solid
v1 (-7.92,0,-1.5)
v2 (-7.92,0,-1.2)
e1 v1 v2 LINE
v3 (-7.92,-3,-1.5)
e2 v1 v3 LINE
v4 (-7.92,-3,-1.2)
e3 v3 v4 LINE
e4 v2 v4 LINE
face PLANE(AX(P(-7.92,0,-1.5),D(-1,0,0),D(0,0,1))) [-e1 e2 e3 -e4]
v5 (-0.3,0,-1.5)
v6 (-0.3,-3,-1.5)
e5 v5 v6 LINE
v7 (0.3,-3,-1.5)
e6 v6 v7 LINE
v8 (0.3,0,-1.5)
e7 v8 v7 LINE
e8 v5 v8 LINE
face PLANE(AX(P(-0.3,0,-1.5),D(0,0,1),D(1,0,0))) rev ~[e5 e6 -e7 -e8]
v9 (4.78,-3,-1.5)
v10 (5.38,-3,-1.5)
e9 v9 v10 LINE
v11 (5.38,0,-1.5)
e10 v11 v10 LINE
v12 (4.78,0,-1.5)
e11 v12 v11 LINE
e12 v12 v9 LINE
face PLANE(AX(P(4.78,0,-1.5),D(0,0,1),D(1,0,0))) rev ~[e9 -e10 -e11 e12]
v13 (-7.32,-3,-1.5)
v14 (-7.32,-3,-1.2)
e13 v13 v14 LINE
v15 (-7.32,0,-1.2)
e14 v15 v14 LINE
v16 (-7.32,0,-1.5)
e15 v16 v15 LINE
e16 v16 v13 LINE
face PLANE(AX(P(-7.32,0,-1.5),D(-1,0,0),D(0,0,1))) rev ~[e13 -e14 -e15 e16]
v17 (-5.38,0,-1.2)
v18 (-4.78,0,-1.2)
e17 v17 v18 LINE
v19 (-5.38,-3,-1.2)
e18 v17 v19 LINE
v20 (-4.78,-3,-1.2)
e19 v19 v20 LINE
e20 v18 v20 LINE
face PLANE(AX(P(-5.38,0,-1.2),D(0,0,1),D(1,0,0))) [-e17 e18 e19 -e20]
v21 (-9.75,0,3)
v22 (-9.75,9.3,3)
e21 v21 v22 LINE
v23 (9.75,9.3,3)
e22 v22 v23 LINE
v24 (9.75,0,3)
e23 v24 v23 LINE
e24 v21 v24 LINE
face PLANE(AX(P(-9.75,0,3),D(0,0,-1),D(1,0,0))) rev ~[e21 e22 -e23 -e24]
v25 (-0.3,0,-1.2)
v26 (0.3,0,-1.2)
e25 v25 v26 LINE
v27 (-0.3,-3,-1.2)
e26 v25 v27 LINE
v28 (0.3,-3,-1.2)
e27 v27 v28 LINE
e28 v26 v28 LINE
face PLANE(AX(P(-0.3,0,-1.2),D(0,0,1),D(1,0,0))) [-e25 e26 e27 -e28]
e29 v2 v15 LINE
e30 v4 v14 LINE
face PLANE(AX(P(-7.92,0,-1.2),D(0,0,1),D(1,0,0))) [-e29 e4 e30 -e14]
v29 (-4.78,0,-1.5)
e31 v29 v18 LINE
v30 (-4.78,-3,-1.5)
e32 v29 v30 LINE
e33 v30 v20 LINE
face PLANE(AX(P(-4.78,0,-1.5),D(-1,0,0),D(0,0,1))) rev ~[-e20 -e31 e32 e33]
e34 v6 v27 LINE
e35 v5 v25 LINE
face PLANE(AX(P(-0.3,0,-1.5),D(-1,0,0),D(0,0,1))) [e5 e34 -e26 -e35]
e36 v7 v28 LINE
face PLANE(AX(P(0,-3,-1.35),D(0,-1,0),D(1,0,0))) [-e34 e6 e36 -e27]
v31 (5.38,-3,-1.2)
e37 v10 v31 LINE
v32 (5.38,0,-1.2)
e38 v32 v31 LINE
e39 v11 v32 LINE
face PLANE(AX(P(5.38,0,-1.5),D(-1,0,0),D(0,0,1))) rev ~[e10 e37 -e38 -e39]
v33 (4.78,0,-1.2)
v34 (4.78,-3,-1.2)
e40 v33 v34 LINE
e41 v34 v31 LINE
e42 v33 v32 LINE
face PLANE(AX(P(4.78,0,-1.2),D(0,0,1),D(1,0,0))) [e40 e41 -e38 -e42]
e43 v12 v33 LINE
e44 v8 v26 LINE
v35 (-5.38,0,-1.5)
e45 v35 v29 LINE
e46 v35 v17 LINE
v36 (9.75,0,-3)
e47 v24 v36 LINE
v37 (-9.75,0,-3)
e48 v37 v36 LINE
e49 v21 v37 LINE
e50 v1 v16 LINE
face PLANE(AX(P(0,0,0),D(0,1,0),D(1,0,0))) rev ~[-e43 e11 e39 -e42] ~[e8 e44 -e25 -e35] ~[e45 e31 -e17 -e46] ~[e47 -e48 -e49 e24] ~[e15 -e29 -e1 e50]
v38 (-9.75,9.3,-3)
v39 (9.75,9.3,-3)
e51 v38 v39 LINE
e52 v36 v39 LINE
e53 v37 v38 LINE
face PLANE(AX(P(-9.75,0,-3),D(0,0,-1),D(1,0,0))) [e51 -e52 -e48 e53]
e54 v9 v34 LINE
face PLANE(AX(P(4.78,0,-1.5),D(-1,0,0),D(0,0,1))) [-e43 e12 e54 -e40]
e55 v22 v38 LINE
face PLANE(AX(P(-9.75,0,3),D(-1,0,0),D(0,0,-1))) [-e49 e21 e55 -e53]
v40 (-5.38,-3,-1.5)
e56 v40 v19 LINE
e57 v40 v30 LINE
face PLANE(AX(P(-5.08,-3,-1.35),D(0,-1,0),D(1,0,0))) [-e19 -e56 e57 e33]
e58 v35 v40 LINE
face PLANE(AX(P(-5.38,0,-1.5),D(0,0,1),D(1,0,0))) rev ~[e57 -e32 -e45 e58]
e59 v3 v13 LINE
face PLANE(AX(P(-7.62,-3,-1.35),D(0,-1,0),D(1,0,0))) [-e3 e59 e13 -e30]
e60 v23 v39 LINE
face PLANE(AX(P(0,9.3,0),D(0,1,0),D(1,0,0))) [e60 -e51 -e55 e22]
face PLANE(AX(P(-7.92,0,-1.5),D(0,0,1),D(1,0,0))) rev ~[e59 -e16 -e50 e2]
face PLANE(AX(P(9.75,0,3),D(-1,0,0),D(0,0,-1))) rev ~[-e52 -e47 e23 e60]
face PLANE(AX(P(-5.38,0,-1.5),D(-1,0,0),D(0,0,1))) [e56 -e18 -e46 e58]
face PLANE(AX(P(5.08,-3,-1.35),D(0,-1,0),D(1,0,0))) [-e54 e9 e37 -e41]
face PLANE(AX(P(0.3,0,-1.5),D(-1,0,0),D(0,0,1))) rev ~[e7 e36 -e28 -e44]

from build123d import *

# Parameters (mm, degrees)
SKETCH_1_W      = 19.5
SKETCH_1_H      = 6
EXTRUDE_1_DEPTH = 9.3
SKETCH_2_W      = 0.6
SKETCH_2_H      = 0.3
EXTRUDE_2_DEPTH = 3
EXTRUDE_3_DEPTH = 0.2


with BuildPart() as part:
    # Эскиз1 → Бобышка-Вытянуть1 (new body)
    with BuildSketch(Plane(origin=(0, 0, 0), x_dir=(1, 0, 0), z_dir=(0, 1, 0))):
        Rectangle(SKETCH_1_W, SKETCH_1_H)
    extrude(amount=EXTRUDE_1_DEPTH)

    # Эскиз2 → Бобышка-Вытянуть2 (add)
    with BuildSketch(Plane.XZ):
        with Locations((-7.62, -1.35)):
            Rectangle(SKETCH_2_W, SKETCH_2_H)
        with Locations((-5.08, -1.35)):
            Rectangle(SKETCH_2_W, SKETCH_2_H)
        with Locations((0, -1.35)):
            Rectangle(SKETCH_2_W, SKETCH_2_H)
        with Locations((5.08, -1.35)):
            Rectangle(SKETCH_2_W, SKETCH_2_H)
    extrude(amount=EXTRUDE_2_DEPTH)

    # Эскиз3 → Бобышка-Вытянуть3 (add)
    with BuildSketch(Plane(origin=(0, 9.3, 0), x_dir=(1, 0, 0), z_dir=(0, 1, 0))):
        with BuildLine():
            Line((-5.993653669, -1.1506083), (-5.993653669, 1.495225034))
            Line((-5.993653669, 1.495225034), (-5.726526265, 1.495225034))
            add(Edge.make_bspline(
                [(-5.726526265, 1.495225034), (-5.703199399, 1.494894605), (-5.65827213, 1.494258204), (-5.593328368, 1.490121291), (-5.533294043, 1.482863062), (-5.478257825, 1.472268509), (-5.427978548, 1.459234752), (-5.382722262, 1.442777118), (-5.342163377, 1.423550544), (-5.318249105, 1.407525081), (-5.30675463, 1.39982239)],
                knots=[0, 0, 0, 0, 6.998e-05, 0.000134781, 0.00019513, 0.000251262, 0.000302815, 0.000350769, 0.00039557, 0.000437033, 0.000437033, 0.000437033, 0.000437033], degree=3))
            add(Edge.make_bspline(
                [(-5.30675463, 1.39982239), (-5.291259723, 1.387980041), (-5.259666671, 1.363834307), (-5.216878942, 1.320049614), (-5.176018095, 1.270953839), (-5.138198125, 1.215037198), (-5.103093917, 1.153229673), (-5.069860634, 1.085379539), (-5.040008142, 1.011214307), (-5.012613306, 0.931196499), (-4.987736933, 0.846373762), (-4.966676113, 0.756972928), (-4.948733764, 0.663775398), (-4.933891633, 0.566532567), (-4.922334069, 0.465223791), (-4.913792213, 0.359881256), (-4.909099881, 0.250617555), (-4.908492313, 0.176552723), (-4.908183583, 0.138917442)],
                knots=[0, 0, 0, 0, 5.8439e-05, 0.000119153, 0.000183146, 0.000249888, 0.000321348, 0.000396253, 0.000476369, 0.000561014, 0.000649908, 0.00074144, 0.000836447, 0.000934568, 0.00103647, 0.001142284, 0.001251571, 0.001364475, 0.001364475, 0.001364475, 0.001364475], degree=3))
            add(Edge.make_bspline(
                [(-4.908183583, 0.138917442), (-4.908280711, 0.106227192), (-4.908471905, 0.041877192), (-4.913150802, -0.053011126), (-4.919308515, -0.144931602), (-4.928055359, -0.233911091), (-4.940620124, -0.319900369), (-4.954621979, -0.403063397), (-4.971578805, -0.483169429), (-4.991199381, -0.559859585), (-5.012673437, -0.632560972), (-5.036144523, -0.700772196), (-5.060756945, -0.763964681), (-5.08687661, -0.822459494), (-5.11469083, -0.875845291), (-5.14459931, -0.924137506), (-5.175194817, -0.968146848), (-5.208238178, -1.00695942), (-5.243405122, -1.041684613), (-5.282312993, -1.070675465), (-5.324207669, -1.095483025), (-5.369598006, -1.115586755), (-5.418401512, -1.131573487), (-5.470683253, -1.142394162), (-5.525977989, -1.149628644), (-5.56396405, -1.150276458), (-5.583422299, -1.1506083)],
                knots=[0, 0, 0, 0, 9.8058e-05, 0.000193026, 0.000284939, 0.000374436, 0.000461159, 0.000545593, 0.000627403, 0.000706717, 0.000783019, 0.000854758, 0.000923064, 0.000986404, 0.001046858, 0.001103491, 0.001156725, 0.001207487, 0.001256214, 0.001304658, 0.001352653, 0.001402001, 0.001453289, 0.00150641, 0.00156196, 0.0016203, 0.0016203, 0.0016203, 0.0016203], degree=3))
            Line((-5.583422299, -1.1506083), (-5.993653669, -1.1506083))
        make_face()
        with BuildLine():
            Line((-5.857969908, -0.879240778), (-5.712215868, -0.879240778))
            add(Edge.make_bspline(
                [(-5.712215868, -0.879240778), (-5.691187559, -0.879056917), (-5.650871591, -0.878704415), (-5.592868926, -0.875504605), (-5.539970165, -0.870356677), (-5.491975474, -0.863079212), (-5.449019914, -0.853425769), (-5.410665043, -0.842750873), (-5.377422356, -0.829210676), (-5.358215906, -0.817468128), (-5.349155806, -0.811928913)],
                knots=[0, 0, 0, 0, 6.3081e-05, 0.00012094, 0.000174206, 0.000222481, 0.000266459, 0.00030621, 0.000341843, 0.000373662, 0.000373662, 0.000373662, 0.000373662], degree=3))
            add(Edge.make_bspline(
                [(-5.349155806, -0.811928913), (-5.337504042, -0.803307558), (-5.313789347, -0.785760618), (-5.280583663, -0.754767955), (-5.250258232, -0.718316423), (-5.220506136, -0.67810954), (-5.194552767, -0.631854361), (-5.168983681, -0.581836894), (-5.145554456, -0.526783834), (-5.124665533, -0.467032902), (-5.105604787, -0.403212154), (-5.089398291, -0.335730556), (-5.074936985, -0.265071796), (-5.063189934, -0.190820741), (-5.055092671, -0.112940991), (-5.048787041, -0.03182255), (-5.044151944, 0.052648833), (-5.043963526, 0.110113423), (-5.043867344, 0.139447456)],
                knots=[0, 0, 0, 0, 4.3464e-05, 8.8463e-05, 0.000135833, 0.000185556, 0.000238281, 0.000294694, 0.000354058, 0.000417592, 0.000484502, 0.00055379, 0.00062572, 0.000700832, 0.000779205, 0.000860546, 0.000944925, 0.001032914, 0.001032914, 0.001032914, 0.001032914], degree=3))
            add(Edge.make_bspline(
                [(-5.043867344, 0.139447456), (-5.044257686, 0.170367783), (-5.045023027, 0.230993015), (-5.04851762, 0.320105791), (-5.055303295, 0.405703496), (-5.065721936, 0.487818585), (-5.0773982, 0.566813362), (-5.093024206, 0.642256147), (-5.110894459, 0.714268364), (-5.131375406, 0.782633857), (-5.154756204, 0.846351158), (-5.179273421, 0.905648959), (-5.207154577, 0.959280213), (-5.236388534, 1.0081843), (-5.26864597, 1.051395115), (-5.302252635, 1.09000415), (-5.339137971, 1.122477508), (-5.365409332, 1.140706418), (-5.378306614, 1.149655456)],
                knots=[0, 0, 0, 0, 9.2766e-05, 0.000181886, 0.000267496, 0.000350263, 0.000430171, 0.000506986, 0.000581287, 0.000652715, 0.000720955, 0.000784843, 0.000845053, 0.000902138, 0.000955564, 0.001006622, 0.001055435, 0.001102508, 0.001102508, 0.001102508, 0.001102508], degree=3))
            add(Edge.make_bspline(
                [(-5.378306614, 1.149655456), (-5.388955984, 1.155743208), (-5.411039459, 1.168367307), (-5.448391882, 1.183007997), (-5.490098558, 1.195464632), (-5.536608314, 1.206268717), (-5.588034553, 1.213841748), (-5.644095768, 1.219565094), (-5.704918011, 1.223470072), (-5.747013657, 1.223724871), (-5.76892744, 1.223857512)],
                knots=[0, 0, 0, 0, 3.6759e-05, 7.6226e-05, 0.000119987, 0.000167301, 0.000219323, 0.000275807, 0.000336342, 0.000402072, 0.000402072, 0.000402072, 0.000402072], degree=3))
            Line((-5.76892744, 1.223857512), (-5.857969908, 1.223857512))
            Line((-5.857969908, 1.223857512), (-5.857969908, -0.879240778))
        make_face(mode=Mode.SUBTRACT)
        with BuildLine():
            Line((-3.415662216, 1.009731578), (-3.519545095, 0.850727171))
            add(Edge.make_bspline(
                [(-3.519545095, 0.850727171), (-3.534179354, 0.884905992), (-3.562170932, 0.950281296), (-3.611133312, 1.040000729), (-3.665533305, 1.116106536), (-3.72384652, 1.179351808), (-3.785927203, 1.2295169), (-3.851769423, 1.265264449), (-3.920886372, 1.287938638), (-3.968476618, 1.290444177), (-3.992318199, 1.291699393)],
                knots=[0, 0, 0, 0, 0.000111505, 0.00021328, 0.000305946, 0.000391448, 0.000470663, 0.000544181, 0.000615258, 0.000686614, 0.000686614, 0.000686614, 0.000686614], degree=3))
            add(Edge.make_bspline(
                [(-3.992318199, 1.291699393), (-4.005431836, 1.291384283), (-4.03169845, 1.290753119), (-4.070396571, 1.282732829), (-4.108512905, 1.271147784), (-4.145817601, 1.254474313), (-4.182279862, 1.233158987), (-4.218304257, 1.207461497), (-4.252957775, 1.176608367), (-4.299075833, 1.128977162), (-4.352642098, 1.059690199), (-4.408114943, 0.964195578), (-4.457114694, 0.856544197), (-4.497127403, 0.73650285), (-4.529213424, 0.606387938), (-4.552370998, 0.467849217), (-4.566279092, 0.321350851), (-4.568060213, 0.221100812), (-4.568974182, 0.169658294)],
                knots=[0, 0, 0, 0, 3.9278e-05, 7.8675e-05, 0.000118071, 0.000158647, 0.000200919, 0.000244603, 0.000291171, 0.000339898, 0.000443375, 0.000552908, 0.000670553, 0.000797599, 0.000931932, 0.001072217, 0.001218621, 0.001372929, 0.001372929, 0.001372929, 0.001372929], degree=3))
            add(Edge.make_bspline(
                [(-4.568974182, 0.169658294), (-4.568505048, 0.130597956), (-4.567586992, 0.054160166), (-4.559240598, -0.057952809), (-4.546936059, -0.165048085), (-4.528789063, -0.267326934), (-4.505707102, -0.364750482), (-4.477047103, -0.45737923), (-4.443102256, -0.544809514), (-4.404897438, -0.626691155), (-4.362284373, -0.700931952), (-4.317155352, -0.766581502), (-4.268464955, -0.821815298), (-4.217519197, -0.867484278), (-4.163381985, -0.903364651), (-4.106076555, -0.928124148), (-4.046251249, -0.944766536), (-4.0051504, -0.946304829), (-3.984367978, -0.947082659)],
                knots=[0, 0, 0, 0, 0.000117163, 0.000229279, 0.000337095, 0.000440441, 0.000540713, 0.000637275, 0.000731075, 0.000821883, 0.000908068, 0.000987615, 0.00106046, 0.00112842, 0.001192368, 0.001254309, 0.001315115, 0.00137731, 0.00137731, 0.00137731, 0.00137731], degree=3))
            add(Edge.make_bspline(
                [(-3.984367978, -0.947082659), (-3.961591638, -0.945772388), (-3.91597232, -0.943148013), (-3.849479838, -0.921072886), (-3.786097826, -0.886024876), (-3.72623861, -0.836482885), (-3.669438198, -0.773568722), (-3.615488809, -0.697122197), (-3.564594685, -0.606919476), (-3.53506219, -0.540833581), (-3.519545095, -0.506110436)],
                knots=[0, 0, 0, 0, 6.8191e-05, 0.000136581, 0.000207984, 0.00028447, 0.000368503, 0.0004616, 0.000564616, 0.000678669, 0.000678669, 0.000678669, 0.000678669], degree=3))
            Line((-3.519545095, -0.506110436), (-3.415662216, -0.663524799))
            add(Edge.make_bspline(
                [(-3.415662216, -0.663524799), (-3.423957596, -0.684978718), (-3.440269776, -0.727166079), (-3.467335967, -0.787728881), (-3.495194986, -0.84501035), (-3.525867748, -0.89780762), (-3.556548419, -0.947988701), (-3.590310996, -0.993379854), (-3.624691432, -1.035567179), (-3.660650472, -1.073847065), (-3.698141543, -1.107588466), (-3.736619231, -1.137280461), (-3.77637805, -1.161955477), (-3.816885086, -1.183164813), (-3.85890478, -1.199070077), (-3.902132842, -1.210062204), (-3.946310126, -1.217400972), (-3.976211705, -1.218098955), (-3.991258169, -1.21845018)],
                knots=[0, 0, 0, 0, 6.8994e-05, 0.00013567, 0.000198958, 0.000259965, 0.000318787, 0.00037529, 0.000429512, 0.000482002, 0.000532665, 0.000580686, 0.000627598, 0.000672873, 0.000717662, 0.000762012, 0.00080654, 0.000851641, 0.000851641, 0.000851641, 0.000851641], degree=3))
            add(Edge.make_bspline(
                [(-3.991258169, -1.21845018), (-4.019498028, -1.217044905), (-4.0752501, -1.214270565), (-4.156243448, -1.191380627), (-4.232478086, -1.154894405), (-4.303933806, -1.103497233), (-4.369809131, -1.03705277), (-4.431329731, -0.956814193), (-4.488334905, -0.862118671), (-4.520381829, -0.792319622), (-4.5371733, -0.755747355)],
                knots=[0, 0, 0, 0, 8.4598e-05, 0.000167017, 0.000250464, 0.000337091, 0.000429662, 0.000530164, 0.000639786, 0.000760445, 0.000760445, 0.000760445, 0.000760445], degree=3))
            add(Edge.make_bspline(
                [(-4.5371733, -0.755747355), (-4.550705935, -0.722524172), (-4.578175766, -0.655084593), (-4.611354565, -0.549272101), (-4.641067127, -0.438918067), (-4.663731428, -0.323171427), (-4.682780542, -0.202666631), (-4.694840811, -0.076988272), (-4.7032721, 0.053646598), (-4.704190154, 0.142436449), (-4.704657942, 0.187678793)],
                knots=[0, 0, 0, 0, 0.000107577, 0.000218371, 0.000332403, 0.000450276, 0.000572011, 0.000698267, 0.000828893, 0.000964602, 0.000964602, 0.000964602, 0.000964602], degree=3))
            add(Edge.make_bspline(
                [(-4.704657942, 0.187678793), (-4.704071921, 0.235219874), (-4.702922615, 0.328457448), (-4.693182896, 0.465378871), (-4.677450347, 0.596485968), (-4.655352591, 0.721825733), (-4.626464582, 0.841351733), (-4.592607123, 0.955511927), (-4.550817993, 1.063548764), (-4.503763829, 1.164964211), (-4.452114913, 1.257588782), (-4.39660512, 1.338869898), (-4.33732567, 1.407454084), (-4.27538001, 1.464439326), (-4.209548403, 1.508797556), (-4.140164332, 1.539888447), (-4.067577761, 1.559396918), (-4.017878723, 1.561837656), (-3.992848213, 1.563066914)],
                knots=[0, 0, 0, 0, 0.000142609, 0.000279686, 0.000411561, 0.00053861, 0.00066125, 0.000780297, 0.000895559, 0.001008427, 0.001115455, 0.00121337, 0.001303168, 0.001386845, 0.001465196, 0.00154016, 0.001614078, 0.00168908, 0.00168908, 0.00168908, 0.00168908], degree=3))
            add(Edge.make_bspline(
                [(-3.992848213, 1.563066914), (-3.977627939, 1.562703678), (-3.947380615, 1.561981816), (-3.902594067, 1.554813267), (-3.859097397, 1.543179618), (-3.816832763, 1.526858437), (-3.775181493, 1.507110913), (-3.73550092, 1.4809088), (-3.696205136, 1.451551931), (-3.658548924, 1.417201519), (-3.62206409, 1.379288724), (-3.587540342, 1.337134575), (-3.554988139, 1.291302038), (-3.522540397, 1.242799461), (-3.494096057, 1.189331801), (-3.46554633, 1.133068857), (-3.43918824, 1.072902791), (-3.423587095, 1.031011171), (-3.415662216, 1.009731578)],
                knots=[0, 0, 0, 0, 4.5631e-05, 9.0682e-05, 0.00013568, 0.000180469, 0.000226455, 0.00027365, 0.000322836, 0.000373499, 0.000426354, 0.000480576, 0.000536768, 0.000594983, 0.000655472, 0.000718285, 0.000784263, 0.000852377, 0.000852377, 0.000852377, 0.000852377], degree=3))
        make_face()
        with BuildLine():
            Line((-1.448247686, 1.009731578), (-1.552130565, 0.850727171))
            add(Edge.make_bspline(
                [(-1.552130565, 0.850727171), (-1.566764824, 0.884905992), (-1.594756402, 0.950281296), (-1.643718782, 1.040000729), (-1.698118775, 1.116106536), (-1.75643199, 1.179351808), (-1.818512673, 1.2295169), (-1.884354893, 1.265264449), (-1.953471842, 1.287938638), (-2.001062088, 1.290444177), (-2.024903669, 1.291699393)],
                knots=[0, 0, 0, 0, 0.000111505, 0.00021328, 0.000305946, 0.000391448, 0.000470663, 0.000544181, 0.000615258, 0.000686614, 0.000686614, 0.000686614, 0.000686614], degree=3))
            add(Edge.make_bspline(
                [(-2.024903669, 1.291699393), (-2.038017306, 1.291384283), (-2.06428392, 1.290753119), (-2.102982041, 1.282732829), (-2.141098375, 1.271147784), (-2.178403071, 1.254474313), (-2.214865332, 1.233158987), (-2.250889728, 1.207461497), (-2.285543246, 1.176608367), (-2.331661303, 1.128977162), (-2.385227568, 1.059690199), (-2.440700413, 0.964195578), (-2.489700164, 0.856544197), (-2.529712873, 0.73650285), (-2.561798894, 0.606387938), (-2.584956468, 0.467849217), (-2.598864562, 0.321350851), (-2.600645683, 0.221100812), (-2.601559652, 0.169658294)],
                knots=[0, 0, 0, 0, 3.9278e-05, 7.8675e-05, 0.000118071, 0.000158647, 0.000200919, 0.000244603, 0.000291171, 0.000339898, 0.000443375, 0.000552908, 0.000670553, 0.000797599, 0.000931932, 0.001072217, 0.001218621, 0.001372929, 0.001372929, 0.001372929, 0.001372929], degree=3))
            add(Edge.make_bspline(
                [(-2.601559652, 0.169658294), (-2.601090518, 0.130597956), (-2.600172462, 0.054160166), (-2.591826069, -0.057952809), (-2.579521529, -0.165048085), (-2.561374533, -0.267326934), (-2.538292572, -0.364750482), (-2.509632573, -0.45737923), (-2.475687726, -0.544809514), (-2.437482908, -0.626691155), (-2.394869843, -0.700931952), (-2.349740822, -0.766581502), (-2.301050425, -0.821815298), (-2.250104667, -0.867484278), (-2.195967455, -0.903364651), (-2.138662025, -0.928124148), (-2.078836719, -0.944766536), (-2.03773587, -0.946304829), (-2.016953448, -0.947082659)],
                knots=[0, 0, 0, 0, 0.000117163, 0.000229279, 0.000337095, 0.000440441, 0.000540713, 0.000637275, 0.000731075, 0.000821883, 0.000908068, 0.000987615, 0.00106046, 0.00112842, 0.001192368, 0.001254309, 0.001315115, 0.00137731, 0.00137731, 0.00137731, 0.00137731], degree=3))
            add(Edge.make_bspline(
                [(-2.016953448, -0.947082659), (-1.994177108, -0.945772388), (-1.94855779, -0.943148013), (-1.882065308, -0.921072886), (-1.818683296, -0.886024876), (-1.75882408, -0.836482885), (-1.702023668, -0.773568722), (-1.648074279, -0.697122197), (-1.597180155, -0.606919476), (-1.56764766, -0.540833581), (-1.552130565, -0.506110436)],
                knots=[0, 0, 0, 0, 6.8191e-05, 0.000136581, 0.000207984, 0.00028447, 0.000368503, 0.0004616, 0.000564616, 0.000678669, 0.000678669, 0.000678669, 0.000678669], degree=3))
            Line((-1.552130565, -0.506110436), (-1.448247686, -0.663524799))
            add(Edge.make_bspline(
                [(-1.448247686, -0.663524799), (-1.456543066, -0.684978718), (-1.472855246, -0.727166079), (-1.499921437, -0.787728881), (-1.527780456, -0.84501035), (-1.558453218, -0.89780762), (-1.589133889, -0.947988701), (-1.622896466, -0.993379854), (-1.657276903, -1.035567179), (-1.693235942, -1.073847065), (-1.730727013, -1.107588466), (-1.769204701, -1.137280461), (-1.80896352, -1.161955477), (-1.849470556, -1.183164813), (-1.89149025, -1.199070077), (-1.934718312, -1.210062204), (-1.978895596, -1.217400972), (-2.008797175, -1.218098955), (-2.023843639, -1.21845018)],
                knots=[0, 0, 0, 0, 6.8994e-05, 0.00013567, 0.000198958, 0.000259965, 0.000318787, 0.00037529, 0.000429512, 0.000482002, 0.000532665, 0.000580686, 0.000627598, 0.000672873, 0.000717662, 0.000762012, 0.00080654, 0.000851641, 0.000851641, 0.000851641, 0.000851641], degree=3))
            add(Edge.make_bspline(
                [(-2.023843639, -1.21845018), (-2.052083499, -1.217044905), (-2.10783557, -1.214270565), (-2.188828918, -1.191380627), (-2.265063556, -1.154894405), (-2.336519276, -1.103497233), (-2.402394601, -1.03705277), (-2.463915201, -0.956814193), (-2.520920375, -0.862118671), (-2.552967299, -0.792319622), (-2.56975877, -0.755747355)],
                knots=[0, 0, 0, 0, 8.4598e-05, 0.000167017, 0.000250464, 0.000337091, 0.000429662, 0.000530164, 0.000639786, 0.000760445, 0.000760445, 0.000760445, 0.000760445], degree=3))
            add(Edge.make_bspline(
                [(-2.56975877, -0.755747355), (-2.583291406, -0.722524172), (-2.610761236, -0.655084593), (-2.643940035, -0.549272101), (-2.673652597, -0.438918067), (-2.696316898, -0.323171427), (-2.715366012, -0.202666631), (-2.727426281, -0.076988272), (-2.73585757, 0.053646598), (-2.736775624, 0.142436449), (-2.737243412, 0.187678793)],
                knots=[0, 0, 0, 0, 0.000107577, 0.000218371, 0.000332403, 0.000450276, 0.000572011, 0.000698267, 0.000828893, 0.000964602, 0.000964602, 0.000964602, 0.000964602], degree=3))
            add(Edge.make_bspline(
                [(-2.737243412, 0.187678793), (-2.736657391, 0.235219874), (-2.735508085, 0.328457448), (-2.725768366, 0.465378871), (-2.710035817, 0.596485968), (-2.687938062, 0.721825733), (-2.659050052, 0.841351733), (-2.625192593, 0.955511927), (-2.583403463, 1.063548764), (-2.536349299, 1.164964211), (-2.484700383, 1.257588782), (-2.42919059, 1.338869898), (-2.36991114, 1.407454084), (-2.307965481, 1.464439326), (-2.242133873, 1.508797556), (-2.172749802, 1.539888447), (-2.100163231, 1.559396918), (-2.050464193, 1.561837656), (-2.025433684, 1.563066914)],
                knots=[0, 0, 0, 0, 0.000142609, 0.000279686, 0.000411561, 0.00053861, 0.00066125, 0.000780297, 0.000895559, 0.001008427, 0.001115455, 0.00121337, 0.001303168, 0.001386845, 0.001465196, 0.00154016, 0.001614078, 0.00168908, 0.00168908, 0.00168908, 0.00168908], degree=3))
            add(Edge.make_bspline(
                [(-2.025433684, 1.563066914), (-2.010213409, 1.562703678), (-1.979966085, 1.561981816), (-1.935179537, 1.554813267), (-1.891682868, 1.543179618), (-1.849418233, 1.526858437), (-1.807766963, 1.507110913), (-1.76808639, 1.4809088), (-1.728790606, 1.451551931), (-1.691134394, 1.417201519), (-1.65464956, 1.379288724), (-1.620125812, 1.337134575), (-1.587573609, 1.291302038), (-1.555125867, 1.242799461), (-1.526681527, 1.189331801), (-1.4981318, 1.133068857), (-1.47177371, 1.072902791), (-1.456172565, 1.031011171), (-1.448247686, 1.009731578)],
                knots=[0, 0, 0, 0, 4.5631e-05, 9.0682e-05, 0.00013568, 0.000180469, 0.000226455, 0.00027365, 0.000322836, 0.000373499, 0.000426354, 0.000480576, 0.000536768, 0.000594983, 0.000655472, 0.000718285, 0.000784263, 0.000852377, 0.000852377, 0.000852377, 0.000852377], degree=3))
        make_face()
        with BuildLine():
            add(Edge.make_bspline(
                [(-0.786259338, 0.81680623), (-0.768295824, 0.81600169), (-0.732566431, 0.81440146), (-0.680834558, 0.797931704), (-0.631820933, 0.772336496), (-0.584557205, 0.737517515), (-0.540776603, 0.69167794), (-0.499317995, 0.636359406), (-0.460000564, 0.571323038), (-0.437251962, 0.523403355), (-0.425319334, 0.498267402)],
                knots=[0, 0, 0, 0, 5.3744e-05, 0.000106896, 0.00016118, 0.000219166, 0.000282133, 0.000350611, 0.000426238, 0.000509673, 0.000509673, 0.000509673, 0.000509673], degree=3))
            add(Edge.make_bspline(
                [(-0.425319334, 0.498267402), (-0.414728297, 0.473668234), (-0.393285396, 0.423864093), (-0.367227345, 0.345950642), (-0.344949151, 0.264885756), (-0.326032015, 0.180605301), (-0.313037159, 0.092656107), (-0.301778331, 0.001715256), (-0.296325548, -0.092631811), (-0.295403832, -0.15664916), (-0.29493572, -0.189161652)],
                knots=[0, 0, 0, 0, 8.0318e-05, 0.000162614, 0.000246195, 0.000332485, 0.00042154, 0.00051279, 0.000607313, 0.000704858, 0.000704858, 0.000704858, 0.000704858], degree=3))
            add(Edge.make_bspline(
                [(-0.29493572, -0.189161652), (-0.295349578, -0.221853946), (-0.296164678, -0.286241839), (-0.302406615, -0.381280091), (-0.313947295, -0.473153634), (-0.328136117, -0.562148356), (-0.348363023, -0.647748537), (-0.37105115, -0.730502442), (-0.399616521, -0.809793204), (-0.431334519, -0.885135131), (-0.466002773, -0.954682557), (-0.504376532, -1.015419427), (-0.54439823, -1.067563046), (-0.587749138, -1.110045823), (-0.633497994, -1.143475031), (-0.68201447, -1.167387439), (-0.73332845, -1.181735338), (-0.768503084, -1.183591994), (-0.786259338, -1.18452924)],
                knots=[0, 0, 0, 0, 9.8076e-05, 0.000193161, 0.000285527, 0.000375798, 0.000463354, 0.000549262, 0.000633082, 0.000715969, 0.000794428, 0.000865891, 0.000931204, 0.000991173, 0.001047364, 0.001100461, 0.001152664, 0.00120588, 0.00120588, 0.00120588, 0.00120588], degree=3))
            add(Edge.make_bspline(
                [(-0.786259338, -1.18452924), (-0.804011064, -1.183573351), (-0.839347322, -1.181670576), (-0.890886446, -1.167497137), (-0.939563391, -1.143481638), (-0.985339642, -1.109901724), (-1.029169741, -1.067601137), (-1.069769751, -1.015582232), (-1.108089348, -0.954665248), (-1.142724365, -0.885122221), (-1.174700554, -0.80992249), (-1.202146645, -0.73027545), (-1.226196077, -0.647953081), (-1.244970492, -0.561981879), (-1.260604899, -0.473275738), (-1.270903559, -0.381222106), (-1.277484843, -0.286251606), (-1.278252974, -0.221857236), (-1.278642985, -0.189161652)],
                knots=[0, 0, 0, 0, 5.3216e-05, 0.00010593, 0.000159027, 0.000215219, 0.000275568, 0.000341209, 0.000412672, 0.000491131, 0.000574018, 0.000657661, 0.000743715, 0.000831155, 0.000921514, 0.001013817, 0.001108903, 0.001206978, 0.001206978, 0.001206978, 0.001206978], degree=3))
            add(Edge.make_bspline(
                [(-1.278642985, -0.189161652), (-1.278178442, -0.156824813), (-1.277261294, -0.092982179), (-1.271726731, 0.001172955), (-1.260822889, 0.092024459), (-1.246682351, 0.179421159), (-1.228663621, 0.263684197), (-1.206507249, 0.344591254), (-1.180178476, 0.422410198), (-1.158834277, 0.472072399), (-1.148259371, 0.496677358)],
                knots=[0, 0, 0, 0, 9.7016e-05, 0.000191538, 0.000282789, 0.000371404, 0.000457064, 0.000541156, 0.00062295, 0.000703268, 0.000703268, 0.000703268, 0.000703268], degree=3))
            add(Edge.make_bspline(
                [(-1.148259371, 0.496677358), (-1.136349283, 0.522002036), (-1.113704774, 0.570151549), (-1.074129905, 0.635502295), (-1.032470577, 0.691022688), (-0.988335287, 0.736710879), (-0.941784971, 0.772713123), (-0.892146266, 0.797870409), (-0.840124761, 0.814365676), (-0.804223805, 0.81599229), (-0.786259338, 0.81680623)],
                knots=[0, 0, 0, 0, 8.391e-05, 0.000159537, 0.000228758, 0.000291725, 0.000349604, 0.000404359, 0.000458019, 0.000511763, 0.000511763, 0.000511763, 0.000511763], degree=3))
        make_face()
        with BuildLine():
            add(Edge.make_bspline(
                [(-0.786789353, 0.579359649), (-0.798886218, 0.578626652), (-0.82301766, 0.577164431), (-0.858223157, 0.565790098), (-0.891985195, 0.54813109), (-0.924214219, 0.522841727), (-0.955425443, 0.491122233), (-0.984444916, 0.45166165), (-1.012618435, 0.40574868), (-1.03916386, 0.353446946), (-1.063119203, 0.295895135), (-1.08500333, 0.23517698), (-1.103007324, 0.171409901), (-1.117135786, 0.10458493), (-1.128804156, 0.034930636), (-1.137341087, -0.03775207), (-1.142056769, -0.113305513), (-1.142654463, -0.164597934), (-1.142959224, -0.190751696)],
                knots=[0, 0, 0, 0, 3.6231e-05, 7.2276e-05, 0.000109971, 0.000150042, 0.000194642, 0.000243086, 0.000296628, 0.000356124, 0.000418829, 0.000483539, 0.000549644, 0.000617424, 0.000688351, 0.000761457, 0.00083687, 0.000915328, 0.000915328, 0.000915328, 0.000915328], degree=3))
            add(Edge.make_bspline(
                [(-1.142959224, -0.190751696), (-1.142326427, -0.224516359), (-1.141078433, -0.291106612), (-1.131865071, -0.389182871), (-1.117149789, -0.483748531), (-1.096763284, -0.57357852), (-1.071413696, -0.656915723), (-1.040686032, -0.730903139), (-1.007123923, -0.795724965), (-0.968484024, -0.849369276), (-0.926864889, -0.892616434), (-0.88217378, -0.923391467), (-0.835469388, -0.943959249), (-0.80288704, -0.946049798), (-0.786789353, -0.947082659)],
                knots=[0, 0, 0, 0, 0.000101283, 0.000199749, 0.000295251, 0.000388211, 0.000475888, 0.000556206, 0.000628288, 0.000694338, 0.000753929, 0.000807295, 0.000856506, 0.000904562, 0.000904562, 0.000904562, 0.000904562], degree=3))
            add(Edge.make_bspline(
                [(-0.786789353, -0.947082659), (-0.77069017, -0.946051352), (-0.738104797, -0.943963948), (-0.691424169, -0.923371461), (-0.646733496, -0.892772774), (-0.605620341, -0.849183125), (-0.567073213, -0.795601378), (-0.532659256, -0.731179148), (-0.50286572, -0.656761062), (-0.477438741, -0.573529964), (-0.456264431, -0.483823389), (-0.441761172, -0.389172967), (-0.432487835, -0.291109204), (-0.431248093, -0.224517231), (-0.430619481, -0.190751696)],
                knots=[0, 0, 0, 0, 4.8056e-05, 9.7268e-05, 0.000150634, 0.000209853, 0.000275903, 0.000348236, 0.000428353, 0.00051603, 0.000609109, 0.000704611, 0.000803077, 0.00090436, 0.00090436, 0.00090436, 0.00090436], degree=3))
            add(Edge.make_bspline(
                [(-0.430619481, -0.190751696), (-0.430925486, -0.16459819), (-0.431525619, -0.11330627), (-0.43622373, -0.037749215), (-0.444824287, 0.034920411), (-0.456272696, 0.104658662), (-0.471208982, 0.171356384), (-0.489265037, 0.235049505), (-0.51018443, 0.296139923), (-0.535093194, 0.353316751), (-0.561497144, 0.405725377), (-0.589562433, 0.451883468), (-0.619282428, 0.490756408), (-0.649875101, 0.523027156), (-0.68215154, 0.548104718), (-0.715878749, 0.56579737), (-0.750923549, 0.577105458), (-0.774871983, 0.578610634), (-0.786789353, 0.579359649)],
                knots=[0, 0, 0, 0, 7.8458e-05, 0.000153871, 0.000226977, 0.000297904, 0.000365798, 0.000431903, 0.000496436, 0.00055935, 0.000618846, 0.000672388, 0.000721152, 0.000765382, 0.000805454, 0.000843148, 0.000879193, 0.000914897, 0.000914897, 0.000914897, 0.000914897], degree=3))
        make_face(mode=Mode.SUBTRACT)
        with BuildLine():
            Line((-0.057489139, 0.78288529), (0.078194622, 0.78288529))
            Line((0.078194622, 0.78288529), (0.078194622, 0.434135624))
            add(Edge.make_bspline(
                [(0.078194622, 0.434135624), (0.090473003, 0.465415577), (0.113637798, 0.524429355), (0.152949616, 0.604831872), (0.194834574, 0.671538016), (0.238889072, 0.724881992), (0.285305471, 0.765981762), (0.333906321, 0.795133405), (0.385061357, 0.813338806), (0.420090417, 0.815653081), (0.437544582, 0.81680623)],
                knots=[0, 0, 0, 0, 0.000100786, 0.000190147, 0.000268074, 0.000336546, 0.000397026, 0.00045311, 0.000505739, 0.000558007, 0.000558007, 0.000558007, 0.000558007], degree=3))
            add(Edge.make_bspline(
                [(0.437544582, 0.81680623), (0.455045862, 0.815427277), (0.490332639, 0.812646977), (0.541313346, 0.791060513), (0.58784322, 0.755227665), (0.630597175, 0.706886804), (0.668635136, 0.647182672), (0.702902382, 0.578089279), (0.729745898, 0.498723058), (0.748524014, 0.426327988), (0.761213854, 0.361580804), (0.768691001, 0.305613031), (0.775834597, 0.243267015), (0.780778935, 0.174469796), (0.78505622, 0.099200266), (0.788120457, 0.017386139), (0.790404417, -0.070778848), (0.790490142, -0.13174174), (0.790534365, -0.163190932)],
                knots=[0, 0, 0, 0, 5.2396e-05, 0.000105644, 0.000163203, 0.000227379, 0.000298237, 0.000375036, 0.000458179, 0.000549065, 0.000599271, 0.000656013, 0.000718406, 0.000787511, 0.000862893, 0.000944577, 0.001033115, 0.001127459, 0.001127459, 0.001127459, 0.001127459], degree=3))
            Line((0.790534365, -0.163190932), (0.790534365, -1.1506083))
            Line((0.790534365, -1.1506083), (0.654850605, -1.1506083))
            Line((0.654850605, -1.1506083), (0.654850605, -0.241103091))
            add(Edge.make_bspline(
                [(0.654850605, -0.241103091), (0.654901746, -0.214778869), (0.654999567, -0.164426518), (0.654336012, -0.092345224), (0.653763884, -0.02697789), (0.653483685, 0.031507299), (0.65219473, 0.083088841), (0.651385129, 0.127800377), (0.649722976, 0.165603399), (0.648504281, 0.188562951), (0.647960414, 0.198809102)],
                knots=[0, 0, 0, 0, 7.8972e-05, 0.000151056, 0.00021625, 0.000275084, 0.000326506, 0.00037104, 0.000409234, 0.000440016, 0.000440016, 0.000440016, 0.000440016], degree=3))
            add(Edge.make_bspline(
                [(0.647960414, 0.198809102), (0.64571324, 0.228557571), (0.641486532, 0.28451144), (0.62687992, 0.362254523), (0.606153204, 0.428513347), (0.578600593, 0.482865252), (0.545764184, 0.526038935), (0.507034395, 0.556869493), (0.463086331, 0.576376873), (0.43173428, 0.578355115), (0.415813979, 0.579359649)],
                knots=[0, 0, 0, 0, 8.9445e-05, 0.000168238, 0.00023679, 0.000297, 0.000350226, 0.000398154, 0.000444225, 0.000491756, 0.000491756, 0.000491756, 0.000491756], degree=3))
            add(Edge.make_bspline(
                [(0.415813979, 0.579359649), (0.406406609, 0.579000598), (0.387683893, 0.578286007), (0.360081539, 0.570938273), (0.33358275, 0.559116182), (0.307478381, 0.542965196), (0.283097594, 0.521327564), (0.258056496, 0.496442104), (0.235236892, 0.465799284), (0.204330303, 0.41932629), (0.17016809, 0.353300208), (0.137666461, 0.265797944), (0.111887842, 0.169787872), (0.101560782, 0.102299758), (0.096215121, 0.067365458)],
                knots=[0, 0, 0, 0, 2.8171e-05, 5.6066e-05, 8.5018e-05, 0.000115019, 0.00014773, 0.000182586, 0.000220751, 0.000262058, 0.000350012, 0.000442939, 0.000541675, 0.000647632, 0.000647632, 0.000647632, 0.000647632], degree=3))
            add(Edge.make_bspline(
                [(0.096215121, 0.067365458), (0.094722013, 0.054299406), (0.091458026, 0.02573656), (0.088018321, -0.020765347), (0.084618429, -0.074640369), (0.082974455, -0.135808744), (0.080627648, -0.204343685), (0.078962715, -0.280139749), (0.078777293, -0.363360428), (0.078394295, -0.421308327), (0.078194622, -0.451518923)],
                knots=[0, 0, 0, 0, 3.945e-05, 8.6238e-05, 0.000139864, 0.000201382, 0.000269787, 0.000345596, 0.00042881, 0.000519444, 0.000519444, 0.000519444, 0.000519444], degree=3))
            Line((0.078194622, -0.451518923), (0.078194622, -1.1506083))
            Line((0.078194622, -1.1506083), (-0.057489139, -1.1506083))
            Line((-0.057489139, -1.1506083), (-0.057489139, 0.78288529))
        make_face()
        Polygon((0.960139066, 0.78288529), (1.109073194, 0.78288529), (1.418071759, -0.572362273), (1.727070323, 0.78288529), (1.876004451, 0.78288529), (1.435032229, -1.1506083), (1.401111288, -1.1506083), align=None)
        with BuildLine():
            Line((2.889922553, -0.540031376), (2.995395476, -0.650804447))
            add(Edge.make_bspline(
                [(2.995395476, -0.650804447), (2.986843686, -0.680395232), (2.970487553, -0.736990493), (2.942521837, -0.817003839), (2.912057191, -0.887868362), (2.879457332, -0.949958174), (2.845538594, -1.004400122), (2.808633959, -1.051024034), (2.770596064, -1.092025781), (2.729664271, -1.125657126), (2.686351339, -1.152060238), (2.640309908, -1.171116269), (2.591364043, -1.182420247), (2.557661232, -1.183821614), (2.540642872, -1.18452924)],
                knots=[0, 0, 0, 0, 9.2394e-05, 0.000176713, 0.000254103, 0.000323567, 0.000386941, 0.00044621, 0.000501698, 0.000554428, 0.000604603, 0.000653324, 0.00070334, 0.000754356, 0.000754356, 0.000754356, 0.000754356], degree=3))
            add(Edge.make_bspline(
                [(2.540642872, -1.18452924), (2.521647414, -1.183640859), (2.484157345, -1.181887521), (2.429827944, -1.167040394), (2.379028756, -1.142547769), (2.331434963, -1.108631038), (2.287208639, -1.064982098), (2.246363966, -1.011876656), (2.208773445, -0.949358119), (2.175199734, -0.878407616), (2.14487345, -0.80181485), (2.118547256, -0.721543549), (2.095394935, -0.638913847), (2.077792903, -0.553454635), (2.063477122, -0.465928955), (2.052550216, -0.375963316), (2.046997499, -0.283399275), (2.046075144, -0.220792035), (2.045609152, -0.189161652)],
                knots=[0, 0, 0, 0, 5.6912e-05, 0.000112323, 0.000167559, 0.000225353, 0.000286821, 0.000353295, 0.000425831, 0.000505245, 0.00058851, 0.000672815, 0.000758581, 0.000845796, 0.000934411, 0.001024609, 0.001117544, 0.001212441, 0.001212441, 0.001212441, 0.001212441], degree=3))
            add(Edge.make_bspline(
                [(2.045609152, -0.189161652), (2.045873668, -0.15947328), (2.04639684, -0.100754205), (2.051786754, -0.01391278), (2.060890014, 0.070583535), (2.073022901, 0.152637188), (2.088213979, 0.232307843), (2.107431802, 0.309412503), (2.130019131, 0.384099099), (2.148006457, 0.4324547), (2.156912237, 0.456396241)],
                knots=[0, 0, 0, 0, 8.9057e-05, 0.000176141, 0.000260893, 0.000343945, 0.000424919, 0.000504105, 0.000582235, 0.000658852, 0.000658852, 0.000658852, 0.000658852], degree=3))
            add(Edge.make_bspline(
                [(2.156912237, 0.456396241), (2.168632995, 0.484695311), (2.191034257, 0.538781819), (2.230346554, 0.612710631), (2.273772183, 0.674835599), (2.319012731, 0.726769821), (2.368669983, 0.766678288), (2.420853593, 0.796196308), (2.477065364, 0.813266793), (2.515446352, 0.815619232), (2.534812711, 0.81680623)],
                knots=[0, 0, 0, 0, 9.1865e-05, 0.000175578, 0.000250565, 0.000318877, 0.000381455, 0.00044076, 0.00049777, 0.000555835, 0.000555835, 0.000555835, 0.000555835], degree=3))
            add(Edge.make_bspline(
                [(2.534812711, 0.81680623), (2.554748952, 0.815766124), (2.594405397, 0.813697184), (2.65183856, 0.794307188), (2.706052042, 0.764148707), (2.757036124, 0.721954325), (2.803761609, 0.667157498), (2.84741589, 0.600847797), (2.889054115, 0.523315753), (2.911878401, 0.466198207), (2.923843493, 0.436255683)],
                knots=[0, 0, 0, 0, 5.9647e-05, 0.000118648, 0.000179857, 0.000245006, 0.000316006, 0.000395092, 0.000482825, 0.000579493, 0.000579493, 0.000579493, 0.000579493], degree=3))
            add(Edge.make_bspline(
                [(2.923843493, 0.436255683), (2.932239182, 0.413201379), (2.949323145, 0.366289341), (2.97040868, 0.292615183), (2.988276388, 0.214921509), (3.003065321, 0.133027608), (3.014880028, 0.047109802), (3.022341437, -0.043136194), (3.02798877, -0.137504611), (3.028867626, -0.201873), (3.029316417, -0.234742915)],
                knots=[0, 0, 0, 0, 7.3588e-05, 0.000149741, 0.00022971, 0.00031267, 0.000399321, 0.000489773, 0.000584265, 0.00068287, 0.00068287, 0.00068287, 0.00068287], degree=3))
            Line((3.029316417, -0.234742915), (2.181292912, -0.234742915))
            add(Edge.make_bspline(
                [(2.181292912, -0.234742915), (2.181678495, -0.260200358), (2.182434624, -0.310122463), (2.188977195, -0.383062876), (2.196139028, -0.452732985), (2.208276721, -0.518418832), (2.222091078, -0.580931888), (2.240558167, -0.639413961), (2.260293019, -0.695188709), (2.284027297, -0.746442985), (2.309787431, -0.793118227), (2.337226816, -0.833957866), (2.365822227, -0.868954932), (2.396201902, -0.897441422), (2.428280632, -0.919689367), (2.462240249, -0.935137296), (2.497484372, -0.945279826), (2.521671877, -0.946482143), (2.533752681, -0.947082659)],
                knots=[0, 0, 0, 0, 7.6352e-05, 0.000149726, 0.000219611, 0.000286359, 0.000350001, 0.000411531, 0.000470216, 0.000527372, 0.000580756, 0.000630002, 0.000674791, 0.000716043, 0.00075456, 0.000791319, 0.000827577, 0.000863758, 0.000863758, 0.000863758, 0.000863758], degree=3))
            add(Edge.make_bspline(
                [(2.533752681, -0.947082659), (2.545639735, -0.946606939), (2.569542184, -0.945650364), (2.604974005, -0.936674712), (2.639639986, -0.922120349), (2.67346179, -0.902275022), (2.70623002, -0.878366002), (2.735712001, -0.849147568), (2.763591626, -0.817379685), (2.789389289, -0.780548935), (2.813785808, -0.735605494), (2.838760192, -0.680839707), (2.864834398, -0.614459415), (2.881140963, -0.566083374), (2.889922553, -0.540031376)],
                knots=[0, 0, 0, 0, 3.561e-05, 7.1604e-05, 0.000108909, 0.000148091, 0.000189008, 0.00023024, 0.000272322, 0.0003157, 0.000364811, 0.00042552, 0.000496187, 0.000578655, 0.000578655, 0.000578655, 0.000578655], degree=3))
        make_face()
        with BuildLine():
            add(Edge.make_bspline(
                [(2.893632656, 0.002703666), (2.889284009, 0.034010969), (2.881026115, 0.093462193), (2.865510163, 0.177480153), (2.846565928, 0.2513368), (2.824740419, 0.316092891), (2.799611473, 0.373076112), (2.771085822, 0.423985739), (2.738043629, 0.468621467), (2.702141544, 0.507162291), (2.664626545, 0.539697143), (2.624200455, 0.561871031), (2.583241391, 0.577163797), (2.555082473, 0.57863361), (2.541172887, 0.579359649)],
                knots=[0, 0, 0, 0, 9.4819e-05, 0.000180058, 0.000256161, 0.000323372, 0.000384829, 0.000442746, 0.000498081, 0.000550958, 0.000600633, 0.000646192, 0.000688765, 0.000730323, 0.000730323, 0.000730323, 0.000730323], degree=3))
            add(Edge.make_bspline(
                [(2.541172887, 0.579359649), (2.529816757, 0.578884512), (2.507133469, 0.577935449), (2.47385806, 0.569147519), (2.442189002, 0.554200788), (2.410982235, 0.534723183), (2.382227004, 0.508241261), (2.354132644, 0.476873625), (2.327269582, 0.439956298), (2.31141713, 0.412390057), (2.303196291, 0.398094625)],
                knots=[0, 0, 0, 0, 3.4024e-05, 6.7962e-05, 0.000102352, 0.000138815, 0.000177856, 0.000219143, 0.000265047, 0.000314495, 0.000314495, 0.000314495, 0.000314495], degree=3))
            add(Edge.make_bspline(
                [(2.303196291, 0.398094625), (2.297196818, 0.386514034), (2.284674217, 0.362342057), (2.268605675, 0.323043588), (2.25313396, 0.279922048), (2.238820492, 0.232510016), (2.225838271, 0.18081587), (2.213491386, 0.125196651), (2.203104027, 0.065346625), (2.196768047, 0.02409169), (2.19348325, 0.002703666)],
                knots=[0, 0, 0, 0, 3.911e-05, 8.1633e-05, 0.000127233, 0.000176527, 0.000230132, 0.000287103, 0.000347404, 0.000412322, 0.000412322, 0.000412322, 0.000412322], degree=3))
            Line((2.19348325, 0.002703666), (2.893632656, 0.002703666))
        make_face(mode=Mode.SUBTRACT)
        with BuildLine():
            Line((3.232842058, 0.78288529), (3.368525818, 0.78288529))
            Line((3.368525818, 0.78288529), (3.368525818, 0.498267402))
            add(Edge.make_bspline(
                [(3.368525818, 0.498267402), (3.377158654, 0.524552332), (3.393329778, 0.573789553), (3.42143135, 0.640457161), (3.449280172, 0.695972089), (3.478235876, 0.740367655), (3.508981153, 0.773639524), (3.5391453, 0.798808716), (3.571522866, 0.813693408), (3.593653396, 0.815789862), (3.604382355, 0.81680623)],
                knots=[0, 0, 0, 0, 8.2969e-05, 0.000155418, 0.000216813, 0.000269145, 0.000313783, 0.000352274, 0.000386446, 0.000418603, 0.000418603, 0.000418603, 0.000418603], degree=3))
            add(Edge.make_bspline(
                [(3.604382355, 0.81680623), (3.612636765, 0.815852155), (3.63030099, 0.813810458), (3.656311976, 0.800158343), (3.682996722, 0.779137474), (3.699041042, 0.760599725), (3.70773522, 0.750554394)],
                knots=[0, 0, 0, 0, 2.4747e-05, 5.2957e-05, 8.6566e-05, 0.000126321, 0.000126321, 0.000126321, 0.000126321], degree=3))
            Line((3.70773522, 0.750554394), (3.642543413, 0.544908694))
            add(Edge.make_bspline(
                [(3.642543413, 0.544908694), (3.636790337, 0.549953037), (3.626169317, 0.559265631), (3.610540938, 0.570655945), (3.595769021, 0.577862983), (3.586068266, 0.578887071), (3.581591724, 0.579359649)],
                knots=[0, 0, 0, 0, 2.2938e-05, 4.2347e-05, 5.8007e-05, 7.1426e-05, 7.1426e-05, 7.1426e-05, 7.1426e-05], degree=3))
            add(Edge.make_bspline(
                [(3.581591724, 0.579359649), (3.571757888, 0.578001124), (3.550680791, 0.575089364), (3.522244285, 0.55270439), (3.494902966, 0.520205459), (3.467988632, 0.474936295), (3.443312282, 0.416541398), (3.422235918, 0.344225662), (3.403069108, 0.258414172), (3.39437154, 0.196066367), (3.389726406, 0.162768103)],
                knots=[0, 0, 0, 0, 2.9319e-05, 6.284e-05, 0.000104922, 0.000157007, 0.00021992, 0.000294699, 0.000382656, 0.000483477, 0.000483477, 0.000483477, 0.000483477], degree=3))
            add(Edge.make_bspline(
                [(3.389726406, 0.162768103), (3.388046347, 0.147406041), (3.38430524, 0.113198246), (3.380334433, 0.056444872), (3.376687708, -0.01087533), (3.37343455, -0.088612162), (3.371563998, -0.176789024), (3.369950645, -0.275372709), (3.368916238, -0.38455846), (3.368659912, -0.460882316), (3.368525818, -0.500810289)],
                knots=[0, 0, 0, 0, 4.6357e-05, 0.000103227, 0.000170641, 0.000248618, 0.000336626, 0.000435222, 0.00054441, 0.000664194, 0.000664194, 0.000664194, 0.000664194], degree=3))
            Line((3.368525818, -0.500810289), (3.368525818, -1.1506083))
            Line((3.368525818, -1.1506083), (3.232842058, -1.1506083))
            Line((3.232842058, -1.1506083), (3.232842058, 0.78288529))
        make_face()
        Polygon((3.911260861, 1.563066914), (4.046944622, 1.563066914), (4.046944622, 0.78288529), (4.216549323, 0.78288529), (4.216549323, 0.545438709), (4.046944622, 0.545438709), (4.046944622, -1.1506083), (3.911260861, -1.1506083), (3.911260861, 0.545438709), (3.74165616, 0.545438709), (3.74165616, 0.78288529), (3.911260861, 0.78288529), align=None)
        with BuildLine():
            Line((5.230467425, -0.540031376), (5.335940348, -0.650804447))
            add(Edge.make_bspline(
                [(5.335940348, -0.650804447), (5.327388558, -0.680395232), (5.311032425, -0.736990493), (5.283066708, -0.817003839), (5.252602063, -0.887868362), (5.220002204, -0.949958174), (5.186083466, -1.004400122), (5.149178831, -1.051024034), (5.111140936, -1.092025781), (5.070209142, -1.125657126), (5.026896211, -1.152060238), (4.98085478, -1.171116269), (4.931908915, -1.182420247), (4.898206104, -1.183821614), (4.881187744, -1.18452924)],
                knots=[0, 0, 0, 0, 9.2394e-05, 0.000176713, 0.000254103, 0.000323567, 0.000386941, 0.00044621, 0.000501698, 0.000554428, 0.000604603, 0.000653324, 0.00070334, 0.000754356, 0.000754356, 0.000754356, 0.000754356], degree=3))
            add(Edge.make_bspline(
                [(4.881187744, -1.18452924), (4.862192286, -1.183640859), (4.824702217, -1.181887521), (4.770372815, -1.167040394), (4.719573628, -1.142547769), (4.671979834, -1.108631038), (4.62775351, -1.064982098), (4.586908837, -1.011876656), (4.549318317, -0.949358119), (4.515744605, -0.878407616), (4.485418322, -0.80181485), (4.459092128, -0.721543549), (4.435939807, -0.638913847), (4.418337775, -0.553454635), (4.404021994, -0.465928955), (4.393095087, -0.375963316), (4.387542371, -0.283399275), (4.386620015, -0.220792035), (4.386154023, -0.189161652)],
                knots=[0, 0, 0, 0, 5.6912e-05, 0.000112323, 0.000167559, 0.000225353, 0.000286821, 0.000353295, 0.000425831, 0.000505245, 0.00058851, 0.000672815, 0.000758581, 0.000845796, 0.000934411, 0.001024609, 0.001117544, 0.001212441, 0.001212441, 0.001212441, 0.001212441], degree=3))
            add(Edge.make_bspline(
                [(4.386154023, -0.189161652), (4.38641854, -0.15947328), (4.386941712, -0.100754205), (4.392331626, -0.01391278), (4.401434885, 0.070583535), (4.413567773, 0.152637188), (4.428758851, 0.232307843), (4.447976673, 0.309412503), (4.470564003, 0.384099099), (4.488551329, 0.4324547), (4.497457108, 0.456396241)],
                knots=[0, 0, 0, 0, 8.9057e-05, 0.000176141, 0.000260893, 0.000343945, 0.000424919, 0.000504105, 0.000582235, 0.000658852, 0.000658852, 0.000658852, 0.000658852], degree=3))
            add(Edge.make_bspline(
                [(4.497457108, 0.456396241), (4.509177866, 0.484695311), (4.531579128, 0.538781819), (4.570891426, 0.612710631), (4.614317055, 0.674835599), (4.659557603, 0.726769821), (4.709214855, 0.766678288), (4.761398465, 0.796196308), (4.817610236, 0.813266793), (4.855991224, 0.815619232), (4.875357583, 0.81680623)],
                knots=[0, 0, 0, 0, 9.1865e-05, 0.000175578, 0.000250565, 0.000318877, 0.000381455, 0.00044076, 0.00049777, 0.000555835, 0.000555835, 0.000555835, 0.000555835], degree=3))
            add(Edge.make_bspline(
                [(4.875357583, 0.81680623), (4.895293824, 0.815766124), (4.934950269, 0.813697184), (4.992383432, 0.794307188), (5.046596914, 0.764148707), (5.097580996, 0.721954325), (5.144306481, 0.667157498), (5.187960762, 0.600847797), (5.229598987, 0.523315753), (5.252423273, 0.466198207), (5.264388365, 0.436255683)],
                knots=[0, 0, 0, 0, 5.9647e-05, 0.000118648, 0.000179857, 0.000245006, 0.000316006, 0.000395092, 0.000482825, 0.000579493, 0.000579493, 0.000579493, 0.000579493], degree=3))
            add(Edge.make_bspline(
                [(5.264388365, 0.436255683), (5.272784054, 0.413201379), (5.289868017, 0.366289341), (5.310953551, 0.292615183), (5.32882126, 0.214921509), (5.343610193, 0.133027608), (5.3554249, 0.047109802), (5.362886308, -0.043136194), (5.368533642, -0.137504611), (5.369412498, -0.201873), (5.369861288, -0.234742915)],
                knots=[0, 0, 0, 0, 7.3588e-05, 0.000149741, 0.00022971, 0.00031267, 0.000399321, 0.000489773, 0.000584265, 0.00068287, 0.00068287, 0.00068287, 0.00068287], degree=3))
            Line((5.369861288, -0.234742915), (4.521837784, -0.234742915))
            add(Edge.make_bspline(
                [(4.521837784, -0.234742915), (4.522223367, -0.260200358), (4.522979496, -0.310122463), (4.529522067, -0.383062876), (4.5366839, -0.452732985), (4.548821593, -0.518418832), (4.56263595, -0.580931888), (4.581103039, -0.639413961), (4.600837891, -0.695188709), (4.624572169, -0.746442985), (4.650332302, -0.793118227), (4.677771688, -0.833957866), (4.706367098, -0.868954932), (4.736746774, -0.897441422), (4.768825504, -0.919689367), (4.802785121, -0.935137296), (4.838029244, -0.945279826), (4.862216749, -0.946482143), (4.874297553, -0.947082659)],
                knots=[0, 0, 0, 0, 7.6352e-05, 0.000149726, 0.000219611, 0.000286359, 0.000350001, 0.000411531, 0.000470216, 0.000527372, 0.000580756, 0.000630002, 0.000674791, 0.000716043, 0.00075456, 0.000791319, 0.000827577, 0.000863758, 0.000863758, 0.000863758, 0.000863758], degree=3))
            add(Edge.make_bspline(
                [(4.874297553, -0.947082659), (4.886184606, -0.946606939), (4.910087056, -0.945650364), (4.945518877, -0.936674712), (4.980184858, -0.922120349), (5.014006662, -0.902275022), (5.046774892, -0.878366002), (5.076256872, -0.849147568), (5.104136498, -0.817379685), (5.129934161, -0.780548935), (5.154330679, -0.735605494), (5.179305064, -0.680839707), (5.20537927, -0.614459415), (5.221685835, -0.566083374), (5.230467425, -0.540031376)],
                knots=[0, 0, 0, 0, 3.561e-05, 7.1604e-05, 0.000108909, 0.000148091, 0.000189008, 0.00023024, 0.000272322, 0.0003157, 0.000364811, 0.00042552, 0.000496187, 0.000578655, 0.000578655, 0.000578655, 0.000578655], degree=3))
        make_face()
        with BuildLine():
            add(Edge.make_bspline(
                [(5.234177528, 0.002703666), (5.229828881, 0.034010969), (5.221570987, 0.093462193), (5.206055035, 0.177480153), (5.1871108, 0.2513368), (5.165285291, 0.316092891), (5.140156345, 0.373076112), (5.111630694, 0.423985739), (5.078588501, 0.468621467), (5.042686416, 0.507162291), (5.005171417, 0.539697143), (4.964745327, 0.561871031), (4.923786263, 0.577163797), (4.895627345, 0.57863361), (4.881717759, 0.579359649)],
                knots=[0, 0, 0, 0, 9.4819e-05, 0.000180058, 0.000256161, 0.000323372, 0.000384829, 0.000442746, 0.000498081, 0.000550958, 0.000600633, 0.000646192, 0.000688765, 0.000730323, 0.000730323, 0.000730323, 0.000730323], degree=3))
            add(Edge.make_bspline(
                [(4.881717759, 0.579359649), (4.870361629, 0.578884512), (4.84767834, 0.577935449), (4.814402932, 0.569147519), (4.782733873, 0.554200788), (4.751527107, 0.534723183), (4.722771876, 0.508241261), (4.694677516, 0.476873625), (4.667814453, 0.439956298), (4.651962002, 0.412390057), (4.643741163, 0.398094625)],
                knots=[0, 0, 0, 0, 3.4024e-05, 6.7962e-05, 0.000102352, 0.000138815, 0.000177856, 0.000219143, 0.000265047, 0.000314495, 0.000314495, 0.000314495, 0.000314495], degree=3))
            add(Edge.make_bspline(
                [(4.643741163, 0.398094625), (4.63774169, 0.386514034), (4.625219089, 0.362342057), (4.609150547, 0.323043588), (4.593678832, 0.279922048), (4.579365364, 0.232510016), (4.566383143, 0.18081587), (4.554036258, 0.125196651), (4.543648899, 0.065346625), (4.537312919, 0.02409169), (4.534028122, 0.002703666)],
                knots=[0, 0, 0, 0, 3.911e-05, 8.1633e-05, 0.000127233, 0.000176527, 0.000230132, 0.000287103, 0.000347404, 0.000412322, 0.000412322, 0.000412322, 0.000412322], degree=3))
            Line((4.534028122, 0.002703666), (5.234177528, 0.002703666))
        make_face(mode=Mode.SUBTRACT)
        with BuildLine():
            Line((5.573386929, 0.78288529), (5.70907069, 0.78288529))
            Line((5.70907069, 0.78288529), (5.70907069, 0.498267402))
            add(Edge.make_bspline(
                [(5.70907069, 0.498267402), (5.717703526, 0.524552332), (5.73387465, 0.573789553), (5.761976222, 0.640457161), (5.789825043, 0.695972089), (5.818780748, 0.740367655), (5.849526025, 0.773639524), (5.879690172, 0.798808716), (5.912067738, 0.813693408), (5.934198268, 0.815789862), (5.944927227, 0.81680623)],
                knots=[0, 0, 0, 0, 8.2969e-05, 0.000155418, 0.000216813, 0.000269145, 0.000313783, 0.000352274, 0.000386446, 0.000418603, 0.000418603, 0.000418603, 0.000418603], degree=3))
            add(Edge.make_bspline(
                [(5.944927227, 0.81680623), (5.953181637, 0.815852155), (5.970845861, 0.813810458), (5.996856848, 0.800158343), (6.023541594, 0.779137474), (6.039585914, 0.760599725), (6.048280092, 0.750554394)],
                knots=[0, 0, 0, 0, 2.4747e-05, 5.2957e-05, 8.6566e-05, 0.000126321, 0.000126321, 0.000126321, 0.000126321], degree=3))
            Line((6.048280092, 0.750554394), (5.983088285, 0.544908694))
            add(Edge.make_bspline(
                [(5.983088285, 0.544908694), (5.977335209, 0.549953037), (5.966714189, 0.559265631), (5.95108581, 0.570655945), (5.936313892, 0.577862983), (5.926613138, 0.578887071), (5.922136596, 0.579359649)],
                knots=[0, 0, 0, 0, 2.2938e-05, 4.2347e-05, 5.8007e-05, 7.1426e-05, 7.1426e-05, 7.1426e-05, 7.1426e-05], degree=3))
            add(Edge.make_bspline(
                [(5.922136596, 0.579359649), (5.912302759, 0.578001124), (5.891225663, 0.575089364), (5.862789157, 0.55270439), (5.835447838, 0.520205459), (5.808533504, 0.474936295), (5.783857153, 0.416541398), (5.76278079, 0.344225662), (5.743613979, 0.258414172), (5.734916412, 0.196066367), (5.730271278, 0.162768103)],
                knots=[0, 0, 0, 0, 2.9319e-05, 6.284e-05, 0.000104922, 0.000157007, 0.00021992, 0.000294699, 0.000382656, 0.000483477, 0.000483477, 0.000483477, 0.000483477], degree=3))
            add(Edge.make_bspline(
                [(5.730271278, 0.162768103), (5.728591219, 0.147406041), (5.724850112, 0.113198246), (5.720879305, 0.056444872), (5.71723258, -0.01087533), (5.713979422, -0.088612162), (5.712108869, -0.176789024), (5.710495517, -0.275372709), (5.70946111, -0.38455846), (5.709204784, -0.460882316), (5.70907069, -0.500810289)],
                knots=[0, 0, 0, 0, 4.6357e-05, 0.000103227, 0.000170641, 0.000248618, 0.000336626, 0.000435222, 0.00054441, 0.000664194, 0.000664194, 0.000664194, 0.000664194], degree=3))
            Line((5.70907069, -0.500810289), (5.70907069, -1.1506083))
            Line((5.70907069, -1.1506083), (5.573386929, -1.1506083))
            Line((5.573386929, -1.1506083), (5.573386929, 0.78288529))
        make_face()
    extrude(amount=-EXTRUDE_3_DEPTH)


solid = part.part
